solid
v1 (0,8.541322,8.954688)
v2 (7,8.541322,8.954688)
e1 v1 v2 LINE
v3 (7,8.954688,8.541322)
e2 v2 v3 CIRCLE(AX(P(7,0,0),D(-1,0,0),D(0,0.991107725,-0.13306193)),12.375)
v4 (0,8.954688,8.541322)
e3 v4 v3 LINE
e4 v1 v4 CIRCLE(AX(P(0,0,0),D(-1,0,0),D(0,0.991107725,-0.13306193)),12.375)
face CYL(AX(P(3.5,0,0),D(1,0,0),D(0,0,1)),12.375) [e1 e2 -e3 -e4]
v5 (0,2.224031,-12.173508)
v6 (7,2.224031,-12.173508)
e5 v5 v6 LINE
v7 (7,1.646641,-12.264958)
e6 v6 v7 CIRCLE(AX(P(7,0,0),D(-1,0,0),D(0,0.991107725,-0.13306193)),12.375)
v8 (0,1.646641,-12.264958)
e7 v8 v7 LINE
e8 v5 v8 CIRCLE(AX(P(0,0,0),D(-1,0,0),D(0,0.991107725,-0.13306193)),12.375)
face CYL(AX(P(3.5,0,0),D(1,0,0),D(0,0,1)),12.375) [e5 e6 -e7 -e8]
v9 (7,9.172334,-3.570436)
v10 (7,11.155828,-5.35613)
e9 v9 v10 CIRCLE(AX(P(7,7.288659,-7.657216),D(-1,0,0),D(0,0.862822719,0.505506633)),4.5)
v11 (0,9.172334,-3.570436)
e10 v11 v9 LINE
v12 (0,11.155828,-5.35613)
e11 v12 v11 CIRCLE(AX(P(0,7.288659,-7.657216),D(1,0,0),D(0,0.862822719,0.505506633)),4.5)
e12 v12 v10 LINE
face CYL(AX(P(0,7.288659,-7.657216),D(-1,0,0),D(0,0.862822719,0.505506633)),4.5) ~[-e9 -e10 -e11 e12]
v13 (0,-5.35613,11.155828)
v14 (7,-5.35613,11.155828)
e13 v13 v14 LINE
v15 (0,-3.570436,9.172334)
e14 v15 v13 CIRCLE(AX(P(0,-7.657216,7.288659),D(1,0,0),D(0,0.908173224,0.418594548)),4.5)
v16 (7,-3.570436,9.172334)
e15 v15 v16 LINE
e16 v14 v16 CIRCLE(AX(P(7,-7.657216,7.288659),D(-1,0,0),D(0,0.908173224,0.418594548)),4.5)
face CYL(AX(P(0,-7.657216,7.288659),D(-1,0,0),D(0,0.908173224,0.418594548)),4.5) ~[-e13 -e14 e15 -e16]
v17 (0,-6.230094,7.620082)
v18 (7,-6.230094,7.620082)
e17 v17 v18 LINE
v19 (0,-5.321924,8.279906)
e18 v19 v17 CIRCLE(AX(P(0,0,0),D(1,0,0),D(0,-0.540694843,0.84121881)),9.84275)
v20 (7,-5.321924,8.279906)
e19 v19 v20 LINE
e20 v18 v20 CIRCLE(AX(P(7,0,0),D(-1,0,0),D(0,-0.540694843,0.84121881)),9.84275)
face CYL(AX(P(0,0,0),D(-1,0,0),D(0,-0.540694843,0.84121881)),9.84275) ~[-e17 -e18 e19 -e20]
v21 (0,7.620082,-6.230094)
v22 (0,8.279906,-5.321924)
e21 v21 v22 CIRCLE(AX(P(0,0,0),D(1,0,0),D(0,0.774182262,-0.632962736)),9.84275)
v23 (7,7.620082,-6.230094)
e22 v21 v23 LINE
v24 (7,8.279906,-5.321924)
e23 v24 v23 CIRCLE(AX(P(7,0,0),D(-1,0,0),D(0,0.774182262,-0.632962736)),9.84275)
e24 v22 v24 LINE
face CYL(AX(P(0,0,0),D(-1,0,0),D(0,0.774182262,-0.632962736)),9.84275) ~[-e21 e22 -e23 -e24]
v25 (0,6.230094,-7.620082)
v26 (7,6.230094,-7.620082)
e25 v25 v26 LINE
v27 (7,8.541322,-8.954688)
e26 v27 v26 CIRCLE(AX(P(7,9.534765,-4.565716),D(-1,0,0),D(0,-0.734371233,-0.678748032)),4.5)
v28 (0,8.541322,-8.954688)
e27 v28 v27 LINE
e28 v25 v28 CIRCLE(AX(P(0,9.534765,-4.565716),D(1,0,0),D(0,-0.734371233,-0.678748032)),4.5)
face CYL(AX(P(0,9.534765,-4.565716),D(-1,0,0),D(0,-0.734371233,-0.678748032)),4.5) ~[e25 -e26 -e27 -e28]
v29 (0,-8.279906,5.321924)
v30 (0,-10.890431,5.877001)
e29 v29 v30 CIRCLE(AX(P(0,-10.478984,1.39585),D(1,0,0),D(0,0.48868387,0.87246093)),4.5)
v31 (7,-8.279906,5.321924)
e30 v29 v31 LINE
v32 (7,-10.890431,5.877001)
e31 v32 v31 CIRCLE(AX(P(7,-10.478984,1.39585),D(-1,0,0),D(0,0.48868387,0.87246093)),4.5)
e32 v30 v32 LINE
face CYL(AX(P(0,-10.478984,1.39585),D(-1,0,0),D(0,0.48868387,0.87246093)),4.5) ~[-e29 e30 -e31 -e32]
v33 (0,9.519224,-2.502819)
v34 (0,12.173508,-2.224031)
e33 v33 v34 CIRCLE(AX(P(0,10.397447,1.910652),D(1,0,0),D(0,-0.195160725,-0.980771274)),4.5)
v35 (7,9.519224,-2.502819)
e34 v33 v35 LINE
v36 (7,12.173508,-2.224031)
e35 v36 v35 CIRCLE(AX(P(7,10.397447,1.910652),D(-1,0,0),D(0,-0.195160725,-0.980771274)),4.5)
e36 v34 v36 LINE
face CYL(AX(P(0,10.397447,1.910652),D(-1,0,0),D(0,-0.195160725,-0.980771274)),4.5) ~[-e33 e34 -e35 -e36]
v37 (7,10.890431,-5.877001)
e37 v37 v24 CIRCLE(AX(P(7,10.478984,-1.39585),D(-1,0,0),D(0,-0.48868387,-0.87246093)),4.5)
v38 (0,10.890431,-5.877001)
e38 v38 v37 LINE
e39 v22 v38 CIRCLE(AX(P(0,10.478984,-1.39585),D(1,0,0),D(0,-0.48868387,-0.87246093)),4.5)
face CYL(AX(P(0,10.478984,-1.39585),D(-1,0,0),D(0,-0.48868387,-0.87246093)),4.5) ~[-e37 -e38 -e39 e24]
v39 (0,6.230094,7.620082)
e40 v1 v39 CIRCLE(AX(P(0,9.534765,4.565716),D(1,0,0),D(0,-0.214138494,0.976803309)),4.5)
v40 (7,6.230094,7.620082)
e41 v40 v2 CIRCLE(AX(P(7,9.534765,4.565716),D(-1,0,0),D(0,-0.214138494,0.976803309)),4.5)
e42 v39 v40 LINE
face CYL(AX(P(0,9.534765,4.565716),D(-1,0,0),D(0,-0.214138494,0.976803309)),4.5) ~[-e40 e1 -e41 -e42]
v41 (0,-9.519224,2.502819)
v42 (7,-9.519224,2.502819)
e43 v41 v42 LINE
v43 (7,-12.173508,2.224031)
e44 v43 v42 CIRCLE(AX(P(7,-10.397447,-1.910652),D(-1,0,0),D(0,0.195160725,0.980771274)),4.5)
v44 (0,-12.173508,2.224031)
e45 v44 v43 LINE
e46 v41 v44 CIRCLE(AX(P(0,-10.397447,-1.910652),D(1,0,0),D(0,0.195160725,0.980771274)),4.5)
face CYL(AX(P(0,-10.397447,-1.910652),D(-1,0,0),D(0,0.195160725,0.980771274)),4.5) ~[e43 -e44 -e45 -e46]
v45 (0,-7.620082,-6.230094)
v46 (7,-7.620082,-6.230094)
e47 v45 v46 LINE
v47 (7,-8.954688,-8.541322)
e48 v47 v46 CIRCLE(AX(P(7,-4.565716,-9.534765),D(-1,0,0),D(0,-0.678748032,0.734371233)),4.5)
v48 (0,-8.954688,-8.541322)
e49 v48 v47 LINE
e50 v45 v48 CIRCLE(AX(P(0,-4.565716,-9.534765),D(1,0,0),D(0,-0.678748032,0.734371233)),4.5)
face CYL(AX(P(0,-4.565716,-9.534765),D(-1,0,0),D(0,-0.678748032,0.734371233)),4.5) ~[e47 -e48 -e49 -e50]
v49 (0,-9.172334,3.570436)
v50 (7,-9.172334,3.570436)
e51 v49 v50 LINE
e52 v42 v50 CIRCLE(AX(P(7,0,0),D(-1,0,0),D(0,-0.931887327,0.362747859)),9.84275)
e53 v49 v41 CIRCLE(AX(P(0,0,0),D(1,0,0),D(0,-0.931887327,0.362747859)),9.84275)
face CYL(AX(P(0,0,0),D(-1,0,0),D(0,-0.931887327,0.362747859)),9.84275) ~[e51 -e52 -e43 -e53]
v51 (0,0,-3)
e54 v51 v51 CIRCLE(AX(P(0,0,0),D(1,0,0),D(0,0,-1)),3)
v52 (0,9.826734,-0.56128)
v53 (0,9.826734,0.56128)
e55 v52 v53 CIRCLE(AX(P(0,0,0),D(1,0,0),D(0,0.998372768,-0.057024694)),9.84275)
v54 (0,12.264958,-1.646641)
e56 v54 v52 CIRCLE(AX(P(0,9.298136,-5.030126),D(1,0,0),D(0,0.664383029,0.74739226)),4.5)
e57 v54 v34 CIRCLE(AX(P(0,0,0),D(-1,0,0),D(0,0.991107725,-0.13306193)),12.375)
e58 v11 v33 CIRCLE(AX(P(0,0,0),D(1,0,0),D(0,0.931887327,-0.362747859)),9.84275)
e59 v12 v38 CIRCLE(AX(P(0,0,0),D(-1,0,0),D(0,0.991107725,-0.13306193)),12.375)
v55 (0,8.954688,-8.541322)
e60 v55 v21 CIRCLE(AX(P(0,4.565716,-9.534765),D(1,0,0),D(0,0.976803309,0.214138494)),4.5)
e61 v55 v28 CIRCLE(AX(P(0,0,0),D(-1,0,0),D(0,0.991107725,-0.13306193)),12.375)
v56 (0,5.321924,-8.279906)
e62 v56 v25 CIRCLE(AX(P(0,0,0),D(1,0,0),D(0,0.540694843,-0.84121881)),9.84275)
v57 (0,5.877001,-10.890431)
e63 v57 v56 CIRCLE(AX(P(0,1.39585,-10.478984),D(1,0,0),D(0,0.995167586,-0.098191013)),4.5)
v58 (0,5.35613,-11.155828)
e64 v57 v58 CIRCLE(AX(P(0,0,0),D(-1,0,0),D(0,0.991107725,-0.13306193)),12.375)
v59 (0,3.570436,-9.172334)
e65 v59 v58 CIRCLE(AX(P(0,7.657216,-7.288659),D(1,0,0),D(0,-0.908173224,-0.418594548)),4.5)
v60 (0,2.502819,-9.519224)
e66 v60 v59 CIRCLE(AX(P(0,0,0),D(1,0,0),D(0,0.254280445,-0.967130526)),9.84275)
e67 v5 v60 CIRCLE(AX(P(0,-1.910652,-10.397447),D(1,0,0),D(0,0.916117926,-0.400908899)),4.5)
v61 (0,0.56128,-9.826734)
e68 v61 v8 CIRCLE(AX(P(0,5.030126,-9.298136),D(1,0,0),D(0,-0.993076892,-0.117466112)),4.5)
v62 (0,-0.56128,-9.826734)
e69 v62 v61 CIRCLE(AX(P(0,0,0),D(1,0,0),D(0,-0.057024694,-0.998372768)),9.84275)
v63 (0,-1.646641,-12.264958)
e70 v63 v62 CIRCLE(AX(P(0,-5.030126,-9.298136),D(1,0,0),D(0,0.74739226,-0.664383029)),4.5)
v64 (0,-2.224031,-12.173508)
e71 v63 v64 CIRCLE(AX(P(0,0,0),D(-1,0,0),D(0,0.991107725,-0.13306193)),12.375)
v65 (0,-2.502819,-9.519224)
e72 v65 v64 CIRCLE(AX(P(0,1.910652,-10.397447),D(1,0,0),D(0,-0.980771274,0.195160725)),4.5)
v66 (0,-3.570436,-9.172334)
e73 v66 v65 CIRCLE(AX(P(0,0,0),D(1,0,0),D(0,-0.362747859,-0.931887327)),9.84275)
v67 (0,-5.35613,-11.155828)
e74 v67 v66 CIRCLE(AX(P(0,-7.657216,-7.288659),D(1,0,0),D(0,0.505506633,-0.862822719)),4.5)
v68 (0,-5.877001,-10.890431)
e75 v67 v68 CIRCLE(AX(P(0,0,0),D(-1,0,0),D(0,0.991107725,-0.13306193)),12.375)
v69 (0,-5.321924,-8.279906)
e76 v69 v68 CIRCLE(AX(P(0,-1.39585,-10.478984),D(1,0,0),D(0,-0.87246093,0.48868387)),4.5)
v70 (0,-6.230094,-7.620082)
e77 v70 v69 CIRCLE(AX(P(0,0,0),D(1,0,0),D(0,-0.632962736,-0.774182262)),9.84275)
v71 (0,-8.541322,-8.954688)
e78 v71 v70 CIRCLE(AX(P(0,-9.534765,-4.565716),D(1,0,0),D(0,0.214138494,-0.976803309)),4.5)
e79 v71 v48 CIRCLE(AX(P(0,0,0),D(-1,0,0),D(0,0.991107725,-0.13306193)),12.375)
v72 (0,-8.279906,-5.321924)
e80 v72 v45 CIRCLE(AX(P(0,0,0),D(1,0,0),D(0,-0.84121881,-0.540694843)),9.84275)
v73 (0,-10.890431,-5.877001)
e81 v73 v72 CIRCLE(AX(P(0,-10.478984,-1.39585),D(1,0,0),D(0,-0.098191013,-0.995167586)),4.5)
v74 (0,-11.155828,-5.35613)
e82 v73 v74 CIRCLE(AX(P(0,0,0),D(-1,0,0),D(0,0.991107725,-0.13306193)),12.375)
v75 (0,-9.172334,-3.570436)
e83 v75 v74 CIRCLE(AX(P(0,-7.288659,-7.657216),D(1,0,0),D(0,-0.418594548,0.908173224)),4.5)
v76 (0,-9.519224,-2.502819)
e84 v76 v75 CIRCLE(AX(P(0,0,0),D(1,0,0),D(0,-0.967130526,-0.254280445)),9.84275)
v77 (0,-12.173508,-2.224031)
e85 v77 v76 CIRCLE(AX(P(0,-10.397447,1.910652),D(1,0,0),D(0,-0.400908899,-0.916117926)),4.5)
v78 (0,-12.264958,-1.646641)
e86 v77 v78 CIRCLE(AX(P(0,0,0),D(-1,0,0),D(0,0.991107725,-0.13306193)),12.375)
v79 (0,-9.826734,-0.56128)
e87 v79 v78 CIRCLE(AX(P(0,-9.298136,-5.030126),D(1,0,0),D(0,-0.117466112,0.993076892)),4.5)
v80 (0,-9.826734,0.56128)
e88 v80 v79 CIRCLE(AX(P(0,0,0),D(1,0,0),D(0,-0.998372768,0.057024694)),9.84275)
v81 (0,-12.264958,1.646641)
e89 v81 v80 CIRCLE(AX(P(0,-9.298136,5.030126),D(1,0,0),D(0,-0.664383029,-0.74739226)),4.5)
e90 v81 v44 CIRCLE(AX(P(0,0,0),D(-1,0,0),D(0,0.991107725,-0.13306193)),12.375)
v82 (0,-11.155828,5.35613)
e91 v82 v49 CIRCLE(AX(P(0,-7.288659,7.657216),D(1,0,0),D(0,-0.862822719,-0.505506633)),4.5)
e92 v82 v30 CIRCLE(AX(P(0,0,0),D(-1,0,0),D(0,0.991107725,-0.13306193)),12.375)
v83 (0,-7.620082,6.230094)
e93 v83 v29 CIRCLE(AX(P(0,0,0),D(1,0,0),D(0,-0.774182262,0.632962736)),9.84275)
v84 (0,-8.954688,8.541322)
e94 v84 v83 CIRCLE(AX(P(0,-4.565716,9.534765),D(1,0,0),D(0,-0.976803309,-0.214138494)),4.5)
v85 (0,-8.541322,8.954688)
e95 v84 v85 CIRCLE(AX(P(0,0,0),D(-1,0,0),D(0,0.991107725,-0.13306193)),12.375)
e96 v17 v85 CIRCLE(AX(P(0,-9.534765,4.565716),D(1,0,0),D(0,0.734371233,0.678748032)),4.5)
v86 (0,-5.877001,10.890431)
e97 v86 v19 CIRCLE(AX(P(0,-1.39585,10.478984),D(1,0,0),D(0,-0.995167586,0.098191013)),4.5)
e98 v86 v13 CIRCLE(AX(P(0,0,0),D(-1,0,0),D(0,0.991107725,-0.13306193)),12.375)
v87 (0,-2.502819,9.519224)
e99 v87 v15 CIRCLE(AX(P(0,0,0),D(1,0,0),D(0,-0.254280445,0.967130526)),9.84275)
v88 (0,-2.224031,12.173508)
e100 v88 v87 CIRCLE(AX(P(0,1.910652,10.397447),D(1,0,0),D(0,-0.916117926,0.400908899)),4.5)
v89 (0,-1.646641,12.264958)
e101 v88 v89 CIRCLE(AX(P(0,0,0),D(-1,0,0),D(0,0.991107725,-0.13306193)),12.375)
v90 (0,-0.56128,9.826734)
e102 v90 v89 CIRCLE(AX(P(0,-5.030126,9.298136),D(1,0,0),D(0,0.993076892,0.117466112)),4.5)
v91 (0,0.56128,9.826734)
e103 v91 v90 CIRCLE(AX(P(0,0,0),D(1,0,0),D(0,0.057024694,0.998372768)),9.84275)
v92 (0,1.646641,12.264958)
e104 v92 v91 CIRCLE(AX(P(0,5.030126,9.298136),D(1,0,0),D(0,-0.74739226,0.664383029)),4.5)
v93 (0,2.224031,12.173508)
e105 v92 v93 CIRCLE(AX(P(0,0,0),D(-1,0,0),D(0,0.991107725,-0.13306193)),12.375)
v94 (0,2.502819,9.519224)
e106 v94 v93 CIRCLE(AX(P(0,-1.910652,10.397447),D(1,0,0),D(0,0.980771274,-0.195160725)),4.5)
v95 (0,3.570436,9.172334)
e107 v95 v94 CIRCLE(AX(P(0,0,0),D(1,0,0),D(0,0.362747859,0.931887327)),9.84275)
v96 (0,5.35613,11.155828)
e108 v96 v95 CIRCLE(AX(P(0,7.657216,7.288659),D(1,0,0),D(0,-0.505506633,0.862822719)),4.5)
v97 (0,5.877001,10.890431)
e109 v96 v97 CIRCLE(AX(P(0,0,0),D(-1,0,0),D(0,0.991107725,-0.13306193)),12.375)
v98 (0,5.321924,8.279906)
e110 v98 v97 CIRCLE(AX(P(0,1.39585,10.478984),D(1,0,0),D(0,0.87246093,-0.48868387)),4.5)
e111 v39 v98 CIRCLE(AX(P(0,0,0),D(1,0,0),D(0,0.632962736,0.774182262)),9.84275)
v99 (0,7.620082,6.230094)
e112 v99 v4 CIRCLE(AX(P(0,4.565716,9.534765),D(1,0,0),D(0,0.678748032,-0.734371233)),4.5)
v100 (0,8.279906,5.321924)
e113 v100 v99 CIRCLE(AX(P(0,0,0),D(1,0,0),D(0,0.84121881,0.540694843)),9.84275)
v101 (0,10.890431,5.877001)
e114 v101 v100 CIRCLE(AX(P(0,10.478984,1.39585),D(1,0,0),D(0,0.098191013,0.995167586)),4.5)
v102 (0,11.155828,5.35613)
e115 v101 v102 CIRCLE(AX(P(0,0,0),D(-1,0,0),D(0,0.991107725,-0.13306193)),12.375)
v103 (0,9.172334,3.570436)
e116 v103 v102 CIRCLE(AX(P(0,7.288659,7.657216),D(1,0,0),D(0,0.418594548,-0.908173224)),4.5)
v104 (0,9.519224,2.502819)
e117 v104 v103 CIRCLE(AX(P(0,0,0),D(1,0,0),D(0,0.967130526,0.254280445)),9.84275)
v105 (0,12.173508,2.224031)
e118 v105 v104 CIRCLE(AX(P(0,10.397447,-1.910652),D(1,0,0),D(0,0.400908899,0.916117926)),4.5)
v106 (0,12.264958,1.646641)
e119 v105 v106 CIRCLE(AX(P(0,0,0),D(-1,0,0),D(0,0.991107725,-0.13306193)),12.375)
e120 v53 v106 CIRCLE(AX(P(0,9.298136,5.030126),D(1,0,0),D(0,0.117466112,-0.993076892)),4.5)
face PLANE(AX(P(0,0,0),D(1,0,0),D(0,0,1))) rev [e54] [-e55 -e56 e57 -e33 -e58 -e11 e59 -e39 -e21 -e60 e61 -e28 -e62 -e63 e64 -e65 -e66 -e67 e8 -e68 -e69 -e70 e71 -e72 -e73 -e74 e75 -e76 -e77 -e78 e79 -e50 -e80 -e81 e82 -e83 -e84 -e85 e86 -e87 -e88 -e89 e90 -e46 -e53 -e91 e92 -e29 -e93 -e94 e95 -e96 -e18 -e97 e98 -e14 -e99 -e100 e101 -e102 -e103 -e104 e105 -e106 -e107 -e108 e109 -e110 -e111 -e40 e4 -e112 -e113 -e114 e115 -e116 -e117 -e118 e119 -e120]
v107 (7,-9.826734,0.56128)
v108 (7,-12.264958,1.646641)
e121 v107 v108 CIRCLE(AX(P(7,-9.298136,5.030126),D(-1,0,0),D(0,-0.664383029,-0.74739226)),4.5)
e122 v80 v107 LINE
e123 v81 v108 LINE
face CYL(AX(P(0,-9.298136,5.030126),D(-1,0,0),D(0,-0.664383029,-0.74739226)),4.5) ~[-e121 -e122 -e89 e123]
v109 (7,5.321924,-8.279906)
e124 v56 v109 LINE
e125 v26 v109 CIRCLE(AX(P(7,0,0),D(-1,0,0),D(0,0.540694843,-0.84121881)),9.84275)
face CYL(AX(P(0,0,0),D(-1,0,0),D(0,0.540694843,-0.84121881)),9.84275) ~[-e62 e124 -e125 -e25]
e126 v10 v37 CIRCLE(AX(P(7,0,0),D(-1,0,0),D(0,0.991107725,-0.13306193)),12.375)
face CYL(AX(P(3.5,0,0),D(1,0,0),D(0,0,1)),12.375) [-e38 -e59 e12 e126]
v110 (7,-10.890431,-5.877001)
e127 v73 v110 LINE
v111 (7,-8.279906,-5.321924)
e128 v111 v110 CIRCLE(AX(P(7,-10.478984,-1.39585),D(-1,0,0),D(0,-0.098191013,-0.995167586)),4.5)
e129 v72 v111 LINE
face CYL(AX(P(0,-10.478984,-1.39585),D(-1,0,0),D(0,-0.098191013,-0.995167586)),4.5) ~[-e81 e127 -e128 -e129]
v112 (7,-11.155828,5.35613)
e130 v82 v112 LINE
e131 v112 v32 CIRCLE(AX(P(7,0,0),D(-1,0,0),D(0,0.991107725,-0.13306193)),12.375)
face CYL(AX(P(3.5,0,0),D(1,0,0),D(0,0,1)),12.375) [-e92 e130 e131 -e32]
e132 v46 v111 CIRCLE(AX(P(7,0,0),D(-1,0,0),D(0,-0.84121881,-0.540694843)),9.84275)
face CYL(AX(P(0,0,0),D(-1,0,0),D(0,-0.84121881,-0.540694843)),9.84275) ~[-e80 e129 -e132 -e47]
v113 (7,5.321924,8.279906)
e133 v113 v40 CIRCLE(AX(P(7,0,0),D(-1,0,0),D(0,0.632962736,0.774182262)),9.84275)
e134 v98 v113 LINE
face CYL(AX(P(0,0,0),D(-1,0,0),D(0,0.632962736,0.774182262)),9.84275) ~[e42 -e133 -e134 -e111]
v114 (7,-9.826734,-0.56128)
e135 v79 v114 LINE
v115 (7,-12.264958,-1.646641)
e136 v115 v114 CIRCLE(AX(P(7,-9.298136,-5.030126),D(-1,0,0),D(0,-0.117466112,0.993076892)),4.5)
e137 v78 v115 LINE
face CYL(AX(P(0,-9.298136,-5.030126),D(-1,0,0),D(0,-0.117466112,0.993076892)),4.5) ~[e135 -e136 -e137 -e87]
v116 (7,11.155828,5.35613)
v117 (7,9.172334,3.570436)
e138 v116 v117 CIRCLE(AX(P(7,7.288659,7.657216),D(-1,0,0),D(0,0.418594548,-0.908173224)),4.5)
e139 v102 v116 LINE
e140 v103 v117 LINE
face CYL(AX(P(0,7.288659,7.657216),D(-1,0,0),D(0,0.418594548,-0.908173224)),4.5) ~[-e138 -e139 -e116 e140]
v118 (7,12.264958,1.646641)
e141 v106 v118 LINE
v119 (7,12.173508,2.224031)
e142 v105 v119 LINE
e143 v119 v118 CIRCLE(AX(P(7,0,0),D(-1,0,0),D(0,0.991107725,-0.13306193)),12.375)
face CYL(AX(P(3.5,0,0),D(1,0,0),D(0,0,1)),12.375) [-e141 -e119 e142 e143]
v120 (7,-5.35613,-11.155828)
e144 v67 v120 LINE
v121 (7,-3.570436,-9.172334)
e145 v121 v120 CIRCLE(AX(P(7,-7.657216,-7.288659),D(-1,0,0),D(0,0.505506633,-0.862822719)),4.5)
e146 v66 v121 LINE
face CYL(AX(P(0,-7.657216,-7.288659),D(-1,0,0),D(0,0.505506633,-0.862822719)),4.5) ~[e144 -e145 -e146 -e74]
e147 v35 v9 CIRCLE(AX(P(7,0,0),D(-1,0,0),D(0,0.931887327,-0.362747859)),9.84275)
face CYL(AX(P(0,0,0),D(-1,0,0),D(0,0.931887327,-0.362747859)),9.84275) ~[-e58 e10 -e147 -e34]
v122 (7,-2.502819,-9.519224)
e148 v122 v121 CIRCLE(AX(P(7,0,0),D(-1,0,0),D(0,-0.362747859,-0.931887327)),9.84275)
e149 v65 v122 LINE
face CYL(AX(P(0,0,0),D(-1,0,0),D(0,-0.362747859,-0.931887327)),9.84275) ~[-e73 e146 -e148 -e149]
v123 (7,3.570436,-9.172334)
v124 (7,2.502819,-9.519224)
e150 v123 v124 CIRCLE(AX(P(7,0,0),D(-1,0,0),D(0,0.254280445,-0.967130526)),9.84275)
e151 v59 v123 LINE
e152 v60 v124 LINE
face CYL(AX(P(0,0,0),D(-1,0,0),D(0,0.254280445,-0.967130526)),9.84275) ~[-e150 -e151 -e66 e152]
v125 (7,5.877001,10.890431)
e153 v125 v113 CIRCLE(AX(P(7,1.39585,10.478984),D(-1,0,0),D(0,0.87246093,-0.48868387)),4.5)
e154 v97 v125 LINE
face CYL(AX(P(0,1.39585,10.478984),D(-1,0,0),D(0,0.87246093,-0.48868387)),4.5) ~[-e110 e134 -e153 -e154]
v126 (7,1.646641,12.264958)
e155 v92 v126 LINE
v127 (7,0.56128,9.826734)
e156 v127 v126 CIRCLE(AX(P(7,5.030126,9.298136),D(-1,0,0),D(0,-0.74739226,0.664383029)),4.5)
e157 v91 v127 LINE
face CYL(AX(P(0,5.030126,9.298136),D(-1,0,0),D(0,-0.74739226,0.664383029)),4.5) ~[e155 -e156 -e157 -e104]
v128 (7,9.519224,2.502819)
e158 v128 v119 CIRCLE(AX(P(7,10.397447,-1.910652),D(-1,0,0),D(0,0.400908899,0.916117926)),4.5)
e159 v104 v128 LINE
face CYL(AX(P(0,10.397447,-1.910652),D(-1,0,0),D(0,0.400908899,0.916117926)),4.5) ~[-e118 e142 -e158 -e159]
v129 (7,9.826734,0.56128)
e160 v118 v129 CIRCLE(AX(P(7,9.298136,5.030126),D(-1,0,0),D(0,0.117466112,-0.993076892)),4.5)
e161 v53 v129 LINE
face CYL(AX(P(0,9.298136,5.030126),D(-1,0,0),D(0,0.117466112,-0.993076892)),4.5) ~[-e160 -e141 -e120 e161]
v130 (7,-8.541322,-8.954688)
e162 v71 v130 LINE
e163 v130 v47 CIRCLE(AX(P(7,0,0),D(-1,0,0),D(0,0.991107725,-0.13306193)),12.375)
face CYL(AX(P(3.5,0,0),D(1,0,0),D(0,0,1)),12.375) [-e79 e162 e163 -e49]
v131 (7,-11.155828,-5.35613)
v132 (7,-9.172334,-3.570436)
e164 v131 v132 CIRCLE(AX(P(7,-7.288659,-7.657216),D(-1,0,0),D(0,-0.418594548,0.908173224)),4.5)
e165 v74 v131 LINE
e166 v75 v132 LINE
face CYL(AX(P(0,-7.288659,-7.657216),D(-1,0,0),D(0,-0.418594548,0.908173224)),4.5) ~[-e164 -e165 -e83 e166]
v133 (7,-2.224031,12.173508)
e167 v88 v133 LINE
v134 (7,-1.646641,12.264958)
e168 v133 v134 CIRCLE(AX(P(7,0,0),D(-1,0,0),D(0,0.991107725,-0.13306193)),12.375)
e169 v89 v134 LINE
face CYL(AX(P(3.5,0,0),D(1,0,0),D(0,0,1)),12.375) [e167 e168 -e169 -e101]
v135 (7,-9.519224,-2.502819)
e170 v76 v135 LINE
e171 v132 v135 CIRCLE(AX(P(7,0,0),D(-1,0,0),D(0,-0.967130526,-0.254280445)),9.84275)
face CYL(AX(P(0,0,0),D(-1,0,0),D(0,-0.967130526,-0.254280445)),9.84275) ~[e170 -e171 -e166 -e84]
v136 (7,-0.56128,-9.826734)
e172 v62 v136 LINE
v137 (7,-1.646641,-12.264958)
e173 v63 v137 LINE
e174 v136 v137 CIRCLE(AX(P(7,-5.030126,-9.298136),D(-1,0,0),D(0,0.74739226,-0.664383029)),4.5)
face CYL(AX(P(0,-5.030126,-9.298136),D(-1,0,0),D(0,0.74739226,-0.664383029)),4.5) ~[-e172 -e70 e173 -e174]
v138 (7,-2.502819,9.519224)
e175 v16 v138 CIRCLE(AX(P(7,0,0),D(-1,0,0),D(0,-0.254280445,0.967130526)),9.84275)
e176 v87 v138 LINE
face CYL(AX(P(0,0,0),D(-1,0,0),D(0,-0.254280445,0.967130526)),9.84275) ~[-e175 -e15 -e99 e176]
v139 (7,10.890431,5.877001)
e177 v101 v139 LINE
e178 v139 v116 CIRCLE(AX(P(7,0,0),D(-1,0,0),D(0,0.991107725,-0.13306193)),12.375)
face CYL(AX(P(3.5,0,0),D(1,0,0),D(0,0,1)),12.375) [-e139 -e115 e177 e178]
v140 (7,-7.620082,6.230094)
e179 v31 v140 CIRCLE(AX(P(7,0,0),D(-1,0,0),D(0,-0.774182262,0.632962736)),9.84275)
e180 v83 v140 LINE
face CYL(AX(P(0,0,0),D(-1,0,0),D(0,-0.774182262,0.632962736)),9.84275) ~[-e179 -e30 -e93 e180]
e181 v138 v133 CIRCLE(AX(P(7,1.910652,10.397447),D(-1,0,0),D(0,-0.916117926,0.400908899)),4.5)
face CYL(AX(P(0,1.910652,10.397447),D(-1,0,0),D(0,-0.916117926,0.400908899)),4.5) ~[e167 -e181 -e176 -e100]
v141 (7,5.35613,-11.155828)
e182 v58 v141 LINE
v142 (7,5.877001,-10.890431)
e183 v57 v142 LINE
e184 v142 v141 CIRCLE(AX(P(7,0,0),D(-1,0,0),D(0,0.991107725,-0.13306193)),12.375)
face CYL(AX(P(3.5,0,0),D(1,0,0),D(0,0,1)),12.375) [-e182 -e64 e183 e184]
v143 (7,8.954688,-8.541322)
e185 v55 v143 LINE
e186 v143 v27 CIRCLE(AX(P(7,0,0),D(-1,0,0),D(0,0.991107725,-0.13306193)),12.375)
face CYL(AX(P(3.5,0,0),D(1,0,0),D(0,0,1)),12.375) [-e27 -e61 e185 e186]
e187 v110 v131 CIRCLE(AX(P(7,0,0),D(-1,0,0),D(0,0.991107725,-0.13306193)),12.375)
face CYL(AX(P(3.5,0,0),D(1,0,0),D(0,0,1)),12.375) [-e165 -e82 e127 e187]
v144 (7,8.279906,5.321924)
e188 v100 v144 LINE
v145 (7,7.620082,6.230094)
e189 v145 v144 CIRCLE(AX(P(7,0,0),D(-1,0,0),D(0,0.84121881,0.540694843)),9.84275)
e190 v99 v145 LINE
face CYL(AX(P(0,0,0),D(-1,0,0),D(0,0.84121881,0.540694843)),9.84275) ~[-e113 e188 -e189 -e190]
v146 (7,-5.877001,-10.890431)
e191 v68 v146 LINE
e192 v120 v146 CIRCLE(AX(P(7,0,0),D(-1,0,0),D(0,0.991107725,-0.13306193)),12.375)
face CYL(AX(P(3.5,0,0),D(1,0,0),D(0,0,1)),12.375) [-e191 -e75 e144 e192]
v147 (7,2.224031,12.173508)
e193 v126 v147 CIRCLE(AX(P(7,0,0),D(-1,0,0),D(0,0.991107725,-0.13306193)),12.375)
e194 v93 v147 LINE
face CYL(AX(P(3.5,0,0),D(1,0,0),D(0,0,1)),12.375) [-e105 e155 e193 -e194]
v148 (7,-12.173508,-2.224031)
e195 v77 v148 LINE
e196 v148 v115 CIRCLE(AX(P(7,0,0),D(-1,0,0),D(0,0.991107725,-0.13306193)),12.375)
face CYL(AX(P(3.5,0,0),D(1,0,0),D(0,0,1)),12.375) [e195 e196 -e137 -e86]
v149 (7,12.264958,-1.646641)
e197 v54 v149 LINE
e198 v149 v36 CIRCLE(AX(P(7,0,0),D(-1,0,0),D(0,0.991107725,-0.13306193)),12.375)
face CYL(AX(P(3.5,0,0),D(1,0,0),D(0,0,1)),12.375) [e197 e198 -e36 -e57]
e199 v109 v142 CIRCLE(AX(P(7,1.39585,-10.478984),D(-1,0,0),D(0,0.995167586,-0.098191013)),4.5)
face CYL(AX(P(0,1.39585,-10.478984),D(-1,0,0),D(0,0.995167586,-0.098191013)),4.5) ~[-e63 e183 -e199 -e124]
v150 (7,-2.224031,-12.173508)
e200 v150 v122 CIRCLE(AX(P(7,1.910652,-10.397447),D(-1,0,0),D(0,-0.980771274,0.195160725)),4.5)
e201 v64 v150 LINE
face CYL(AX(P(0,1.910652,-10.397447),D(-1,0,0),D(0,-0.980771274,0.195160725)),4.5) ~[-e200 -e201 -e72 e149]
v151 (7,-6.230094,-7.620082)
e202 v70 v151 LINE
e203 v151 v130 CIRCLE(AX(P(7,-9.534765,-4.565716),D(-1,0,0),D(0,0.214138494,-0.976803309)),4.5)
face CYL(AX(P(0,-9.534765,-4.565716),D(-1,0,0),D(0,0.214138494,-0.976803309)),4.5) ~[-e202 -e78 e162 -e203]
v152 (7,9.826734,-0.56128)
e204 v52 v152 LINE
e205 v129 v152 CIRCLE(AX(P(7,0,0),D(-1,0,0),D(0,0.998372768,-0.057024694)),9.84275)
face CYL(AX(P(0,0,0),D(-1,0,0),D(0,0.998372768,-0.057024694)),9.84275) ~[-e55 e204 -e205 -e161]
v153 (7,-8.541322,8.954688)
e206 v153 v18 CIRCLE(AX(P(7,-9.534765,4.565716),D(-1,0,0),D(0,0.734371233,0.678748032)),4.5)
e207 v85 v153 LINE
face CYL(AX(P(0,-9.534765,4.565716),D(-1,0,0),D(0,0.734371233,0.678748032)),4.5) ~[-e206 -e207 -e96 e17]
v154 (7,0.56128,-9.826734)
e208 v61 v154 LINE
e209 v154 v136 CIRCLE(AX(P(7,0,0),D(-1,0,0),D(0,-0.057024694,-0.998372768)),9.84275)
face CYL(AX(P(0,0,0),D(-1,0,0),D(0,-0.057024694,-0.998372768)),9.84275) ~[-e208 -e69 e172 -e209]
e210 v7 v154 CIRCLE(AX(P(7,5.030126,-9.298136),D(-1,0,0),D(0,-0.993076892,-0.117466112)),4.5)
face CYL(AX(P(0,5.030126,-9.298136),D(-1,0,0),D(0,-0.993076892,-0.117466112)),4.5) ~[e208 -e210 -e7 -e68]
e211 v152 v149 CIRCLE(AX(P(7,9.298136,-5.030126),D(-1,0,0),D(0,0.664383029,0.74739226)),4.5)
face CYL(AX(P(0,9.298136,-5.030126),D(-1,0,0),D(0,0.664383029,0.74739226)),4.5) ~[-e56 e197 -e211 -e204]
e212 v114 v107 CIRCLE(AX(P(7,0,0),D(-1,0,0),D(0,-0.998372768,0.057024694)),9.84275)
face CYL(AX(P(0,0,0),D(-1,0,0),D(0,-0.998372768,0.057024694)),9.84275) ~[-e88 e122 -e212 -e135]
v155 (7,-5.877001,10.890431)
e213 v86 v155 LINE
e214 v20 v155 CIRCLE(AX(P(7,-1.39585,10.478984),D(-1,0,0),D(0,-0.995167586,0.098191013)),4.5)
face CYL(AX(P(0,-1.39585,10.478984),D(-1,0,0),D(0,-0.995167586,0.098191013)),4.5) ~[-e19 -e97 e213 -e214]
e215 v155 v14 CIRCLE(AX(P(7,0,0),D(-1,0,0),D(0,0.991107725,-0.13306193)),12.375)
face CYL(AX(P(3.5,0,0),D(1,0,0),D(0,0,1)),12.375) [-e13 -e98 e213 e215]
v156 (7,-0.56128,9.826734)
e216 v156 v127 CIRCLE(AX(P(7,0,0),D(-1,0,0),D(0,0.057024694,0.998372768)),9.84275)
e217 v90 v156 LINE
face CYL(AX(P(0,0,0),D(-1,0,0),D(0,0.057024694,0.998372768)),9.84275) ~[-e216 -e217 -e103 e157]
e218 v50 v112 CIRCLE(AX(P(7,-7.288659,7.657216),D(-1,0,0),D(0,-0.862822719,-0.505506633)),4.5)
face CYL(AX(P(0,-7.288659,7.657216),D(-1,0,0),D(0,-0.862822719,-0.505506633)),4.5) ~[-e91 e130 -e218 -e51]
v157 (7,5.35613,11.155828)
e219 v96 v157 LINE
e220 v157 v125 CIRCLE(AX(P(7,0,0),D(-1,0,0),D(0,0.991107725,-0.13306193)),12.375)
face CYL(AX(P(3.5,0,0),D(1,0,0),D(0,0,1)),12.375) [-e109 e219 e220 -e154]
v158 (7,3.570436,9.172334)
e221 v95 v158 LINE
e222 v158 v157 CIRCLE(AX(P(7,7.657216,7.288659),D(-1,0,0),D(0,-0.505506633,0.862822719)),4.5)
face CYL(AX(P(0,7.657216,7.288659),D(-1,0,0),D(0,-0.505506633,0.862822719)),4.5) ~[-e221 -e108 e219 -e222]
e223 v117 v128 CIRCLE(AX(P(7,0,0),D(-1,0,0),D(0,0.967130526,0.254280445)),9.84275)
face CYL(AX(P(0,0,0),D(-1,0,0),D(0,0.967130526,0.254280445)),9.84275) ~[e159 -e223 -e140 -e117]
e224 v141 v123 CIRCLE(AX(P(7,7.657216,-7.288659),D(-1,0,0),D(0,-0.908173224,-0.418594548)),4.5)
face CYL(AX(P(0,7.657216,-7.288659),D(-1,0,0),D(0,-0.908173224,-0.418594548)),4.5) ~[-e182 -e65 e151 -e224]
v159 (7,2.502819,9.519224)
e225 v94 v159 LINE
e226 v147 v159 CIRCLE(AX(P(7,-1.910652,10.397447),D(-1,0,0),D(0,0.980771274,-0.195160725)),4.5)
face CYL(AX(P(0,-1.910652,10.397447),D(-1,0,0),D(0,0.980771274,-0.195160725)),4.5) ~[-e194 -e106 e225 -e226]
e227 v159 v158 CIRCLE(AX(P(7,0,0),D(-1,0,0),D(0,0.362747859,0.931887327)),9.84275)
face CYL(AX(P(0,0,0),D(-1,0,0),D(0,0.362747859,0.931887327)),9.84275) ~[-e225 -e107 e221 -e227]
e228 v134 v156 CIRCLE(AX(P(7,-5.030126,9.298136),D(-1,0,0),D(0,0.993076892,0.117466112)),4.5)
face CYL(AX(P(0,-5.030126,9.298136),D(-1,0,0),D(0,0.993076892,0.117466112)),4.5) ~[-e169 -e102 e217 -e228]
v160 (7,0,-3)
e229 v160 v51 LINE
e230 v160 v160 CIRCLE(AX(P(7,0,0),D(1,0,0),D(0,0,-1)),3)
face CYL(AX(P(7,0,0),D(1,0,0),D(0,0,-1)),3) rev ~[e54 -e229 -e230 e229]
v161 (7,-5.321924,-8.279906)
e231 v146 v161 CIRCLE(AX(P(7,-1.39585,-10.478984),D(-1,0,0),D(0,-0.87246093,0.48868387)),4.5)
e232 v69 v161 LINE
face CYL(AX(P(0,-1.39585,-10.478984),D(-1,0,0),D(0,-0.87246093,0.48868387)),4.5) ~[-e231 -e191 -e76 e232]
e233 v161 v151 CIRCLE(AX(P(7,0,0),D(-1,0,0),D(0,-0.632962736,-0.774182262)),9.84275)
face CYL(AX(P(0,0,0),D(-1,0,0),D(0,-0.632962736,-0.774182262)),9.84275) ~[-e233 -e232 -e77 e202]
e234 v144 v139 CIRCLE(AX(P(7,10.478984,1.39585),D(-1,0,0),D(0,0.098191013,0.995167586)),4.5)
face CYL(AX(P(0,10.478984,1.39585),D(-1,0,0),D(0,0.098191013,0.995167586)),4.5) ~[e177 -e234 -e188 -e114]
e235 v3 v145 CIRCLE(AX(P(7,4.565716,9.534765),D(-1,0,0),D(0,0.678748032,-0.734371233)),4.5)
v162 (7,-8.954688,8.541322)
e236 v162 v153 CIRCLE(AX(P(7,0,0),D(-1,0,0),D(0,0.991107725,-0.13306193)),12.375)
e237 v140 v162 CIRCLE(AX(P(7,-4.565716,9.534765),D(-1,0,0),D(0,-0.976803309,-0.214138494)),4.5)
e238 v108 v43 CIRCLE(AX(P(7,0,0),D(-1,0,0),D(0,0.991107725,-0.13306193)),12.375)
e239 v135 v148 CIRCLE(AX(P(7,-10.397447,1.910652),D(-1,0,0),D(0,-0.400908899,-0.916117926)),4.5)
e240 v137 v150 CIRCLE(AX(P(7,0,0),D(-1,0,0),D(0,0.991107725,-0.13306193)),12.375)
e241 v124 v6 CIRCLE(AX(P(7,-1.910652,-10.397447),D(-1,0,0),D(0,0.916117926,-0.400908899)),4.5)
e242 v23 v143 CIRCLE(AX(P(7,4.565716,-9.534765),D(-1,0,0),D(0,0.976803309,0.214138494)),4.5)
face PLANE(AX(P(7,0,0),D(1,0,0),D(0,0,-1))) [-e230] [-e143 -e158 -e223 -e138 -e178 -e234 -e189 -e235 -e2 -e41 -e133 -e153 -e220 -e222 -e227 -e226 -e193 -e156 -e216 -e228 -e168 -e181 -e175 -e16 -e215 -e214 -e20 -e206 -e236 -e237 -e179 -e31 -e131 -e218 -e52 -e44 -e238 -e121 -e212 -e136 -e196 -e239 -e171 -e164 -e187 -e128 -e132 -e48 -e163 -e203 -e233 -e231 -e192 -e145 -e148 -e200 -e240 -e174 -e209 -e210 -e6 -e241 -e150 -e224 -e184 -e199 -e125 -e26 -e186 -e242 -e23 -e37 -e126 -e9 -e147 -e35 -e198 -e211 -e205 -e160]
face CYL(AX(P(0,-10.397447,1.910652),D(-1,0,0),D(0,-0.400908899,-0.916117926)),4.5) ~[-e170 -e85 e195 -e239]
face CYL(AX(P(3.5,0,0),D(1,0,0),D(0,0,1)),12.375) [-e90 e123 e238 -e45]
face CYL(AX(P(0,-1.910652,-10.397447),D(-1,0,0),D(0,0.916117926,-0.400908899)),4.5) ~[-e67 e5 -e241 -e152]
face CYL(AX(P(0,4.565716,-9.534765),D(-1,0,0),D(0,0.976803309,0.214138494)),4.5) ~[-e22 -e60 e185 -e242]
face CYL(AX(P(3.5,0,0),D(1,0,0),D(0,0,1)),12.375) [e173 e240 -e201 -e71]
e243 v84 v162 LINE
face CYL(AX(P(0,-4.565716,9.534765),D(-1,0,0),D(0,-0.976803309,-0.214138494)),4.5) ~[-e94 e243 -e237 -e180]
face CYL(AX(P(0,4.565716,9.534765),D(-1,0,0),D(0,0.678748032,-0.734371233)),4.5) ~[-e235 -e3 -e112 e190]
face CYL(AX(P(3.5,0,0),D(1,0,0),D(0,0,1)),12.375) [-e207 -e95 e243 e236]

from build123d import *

# Parameters (mm, degrees)
BASPROSKE_W         = 7
BASPROSKE_H         = 12.375
TOOTHCUT_DEPTH      = 19.848905804
TEETHCUTS_COUNT     = 20
BORSKE_R            = 3
BORE_DEPTH          = 50.0000508
SKETCH1_R           = 3
BOSS_EXTRUDE1_DEPTH = 7
CUT_EXTRUDE1_DEPTH  = 7
SKETCH3_R           = 3
CUT_EXTRUDE2_DEPTH  = 7


with BuildPart() as part:
    # BasProSke → Base-Revolve (revolve)
    with BuildSketch(Plane(origin=(0, 0, 0), x_dir=(1, 0, 0), z_dir=(0, 1, 0)), mode=Mode.PRIVATE) as base_revolve_sk:
        with Locations((3.5, 6.1875)):
            Rectangle(BASPROSKE_W, BASPROSKE_H)
    revolve(base_revolve_sk.sketch.rotate(Axis((-10, 0, 0), (1, 0, 0)), 180), axis=Axis((-10, 0, 0), (1, 0, 0)))

    # TooCutSke → ToothCut (cut, through all)
    with BuildSketch(Plane(origin=(0, 0, 0), x_dir=(0, 0, -1), z_dir=(1, 0, 0))):
        with BuildLine():
            ThreePointArc((0.561279811, 9.826733564), (0, 9.84275), (-0.561279811, 9.826733564))
            ThreePointArc((-0.561279811, 9.826733564), (-0.925277854, 11.14210546), (-1.666860651, 12.287859689))
            ThreePointArc((-1.666860651, 12.287859689), (0, 12.4004), (1.666860651, 12.287859689))
            ThreePointArc((1.666860651, 12.287859689), (0.925277854, 11.14210546), (0.561279811, 9.826733564))
        make_face()
    toothcut = extrude(amount=TOOTHCUT_DEPTH, mode=Mode.SUBTRACT)

    # TeethCuts: ToothCut ×20 about axis
    teethcuts_axis = Axis((0, 0, 0), (1, 0, 0))
    for i in range(1, TEETHCUTS_COUNT):
        add(toothcut.rotate(teethcuts_axis, i * 360 / TEETHCUTS_COUNT), mode=Mode.SUBTRACT)

    # BorSke → Bore (cut, symmetric)
    with BuildSketch(Plane(origin=(0, 0, 0), x_dir=(0, 0, -1), z_dir=(1, 0, 0))):
        with Locations(Location((0, 0, 0), (0, 0, 180))):
            Circle(BORSKE_R)
    extrude(amount=BORE_DEPTH, both=True, mode=Mode.SUBTRACT)

    # Sketch1 → Boss-Extrude1 (add)
    with BuildSketch(Plane(origin=(7, 0, 0), x_dir=(0, 0, -1), z_dir=(1, 0, 0))):
        Circle(SKETCH1_R)
    extrude(amount=-BOSS_EXTRUDE1_DEPTH)

    # Sketch2 → Cut-Extrude1 (cut)
    with BuildSketch(Plane(origin=(7, 0, 0), x_dir=(0, 0, -1), z_dir=(1, 0, 0))):
        with BuildLine():
            ThreePointArc((1.8, 2.01246118), (0, 2.7), (-1.8, 2.01246118))
            Line((-1.8, 2.01246118), (-1.8, 0))
            Line((-1.8, 0), (1.8, 0))
            Line((1.8, 0), (1.8, 2.01246118))
        make_face()
        with BuildLine():
            Line((1.8, 0), (-1.8, 0))
            Line((-1.8, 0), (-1.8, -2.01246118))
            ThreePointArc((-1.8, -2.01246118), (0, -2.7), (1.8, -2.01246118))
            Line((1.8, -2.01246118), (1.8, 0))
        make_face()
    extrude(amount=-CUT_EXTRUDE1_DEPTH, mode=Mode.SUBTRACT)

    # Sketch3 → Cut-Extrude2 (cut)
    with BuildSketch(Plane(origin=(7, 0, 0), x_dir=(0, 0, -1), z_dir=(1, 0, 0))):
        Circle(SKETCH3_R)
    extrude(amount=-CUT_EXTRUDE2_DEPTH, mode=Mode.SUBTRACT)


solid = part.part
